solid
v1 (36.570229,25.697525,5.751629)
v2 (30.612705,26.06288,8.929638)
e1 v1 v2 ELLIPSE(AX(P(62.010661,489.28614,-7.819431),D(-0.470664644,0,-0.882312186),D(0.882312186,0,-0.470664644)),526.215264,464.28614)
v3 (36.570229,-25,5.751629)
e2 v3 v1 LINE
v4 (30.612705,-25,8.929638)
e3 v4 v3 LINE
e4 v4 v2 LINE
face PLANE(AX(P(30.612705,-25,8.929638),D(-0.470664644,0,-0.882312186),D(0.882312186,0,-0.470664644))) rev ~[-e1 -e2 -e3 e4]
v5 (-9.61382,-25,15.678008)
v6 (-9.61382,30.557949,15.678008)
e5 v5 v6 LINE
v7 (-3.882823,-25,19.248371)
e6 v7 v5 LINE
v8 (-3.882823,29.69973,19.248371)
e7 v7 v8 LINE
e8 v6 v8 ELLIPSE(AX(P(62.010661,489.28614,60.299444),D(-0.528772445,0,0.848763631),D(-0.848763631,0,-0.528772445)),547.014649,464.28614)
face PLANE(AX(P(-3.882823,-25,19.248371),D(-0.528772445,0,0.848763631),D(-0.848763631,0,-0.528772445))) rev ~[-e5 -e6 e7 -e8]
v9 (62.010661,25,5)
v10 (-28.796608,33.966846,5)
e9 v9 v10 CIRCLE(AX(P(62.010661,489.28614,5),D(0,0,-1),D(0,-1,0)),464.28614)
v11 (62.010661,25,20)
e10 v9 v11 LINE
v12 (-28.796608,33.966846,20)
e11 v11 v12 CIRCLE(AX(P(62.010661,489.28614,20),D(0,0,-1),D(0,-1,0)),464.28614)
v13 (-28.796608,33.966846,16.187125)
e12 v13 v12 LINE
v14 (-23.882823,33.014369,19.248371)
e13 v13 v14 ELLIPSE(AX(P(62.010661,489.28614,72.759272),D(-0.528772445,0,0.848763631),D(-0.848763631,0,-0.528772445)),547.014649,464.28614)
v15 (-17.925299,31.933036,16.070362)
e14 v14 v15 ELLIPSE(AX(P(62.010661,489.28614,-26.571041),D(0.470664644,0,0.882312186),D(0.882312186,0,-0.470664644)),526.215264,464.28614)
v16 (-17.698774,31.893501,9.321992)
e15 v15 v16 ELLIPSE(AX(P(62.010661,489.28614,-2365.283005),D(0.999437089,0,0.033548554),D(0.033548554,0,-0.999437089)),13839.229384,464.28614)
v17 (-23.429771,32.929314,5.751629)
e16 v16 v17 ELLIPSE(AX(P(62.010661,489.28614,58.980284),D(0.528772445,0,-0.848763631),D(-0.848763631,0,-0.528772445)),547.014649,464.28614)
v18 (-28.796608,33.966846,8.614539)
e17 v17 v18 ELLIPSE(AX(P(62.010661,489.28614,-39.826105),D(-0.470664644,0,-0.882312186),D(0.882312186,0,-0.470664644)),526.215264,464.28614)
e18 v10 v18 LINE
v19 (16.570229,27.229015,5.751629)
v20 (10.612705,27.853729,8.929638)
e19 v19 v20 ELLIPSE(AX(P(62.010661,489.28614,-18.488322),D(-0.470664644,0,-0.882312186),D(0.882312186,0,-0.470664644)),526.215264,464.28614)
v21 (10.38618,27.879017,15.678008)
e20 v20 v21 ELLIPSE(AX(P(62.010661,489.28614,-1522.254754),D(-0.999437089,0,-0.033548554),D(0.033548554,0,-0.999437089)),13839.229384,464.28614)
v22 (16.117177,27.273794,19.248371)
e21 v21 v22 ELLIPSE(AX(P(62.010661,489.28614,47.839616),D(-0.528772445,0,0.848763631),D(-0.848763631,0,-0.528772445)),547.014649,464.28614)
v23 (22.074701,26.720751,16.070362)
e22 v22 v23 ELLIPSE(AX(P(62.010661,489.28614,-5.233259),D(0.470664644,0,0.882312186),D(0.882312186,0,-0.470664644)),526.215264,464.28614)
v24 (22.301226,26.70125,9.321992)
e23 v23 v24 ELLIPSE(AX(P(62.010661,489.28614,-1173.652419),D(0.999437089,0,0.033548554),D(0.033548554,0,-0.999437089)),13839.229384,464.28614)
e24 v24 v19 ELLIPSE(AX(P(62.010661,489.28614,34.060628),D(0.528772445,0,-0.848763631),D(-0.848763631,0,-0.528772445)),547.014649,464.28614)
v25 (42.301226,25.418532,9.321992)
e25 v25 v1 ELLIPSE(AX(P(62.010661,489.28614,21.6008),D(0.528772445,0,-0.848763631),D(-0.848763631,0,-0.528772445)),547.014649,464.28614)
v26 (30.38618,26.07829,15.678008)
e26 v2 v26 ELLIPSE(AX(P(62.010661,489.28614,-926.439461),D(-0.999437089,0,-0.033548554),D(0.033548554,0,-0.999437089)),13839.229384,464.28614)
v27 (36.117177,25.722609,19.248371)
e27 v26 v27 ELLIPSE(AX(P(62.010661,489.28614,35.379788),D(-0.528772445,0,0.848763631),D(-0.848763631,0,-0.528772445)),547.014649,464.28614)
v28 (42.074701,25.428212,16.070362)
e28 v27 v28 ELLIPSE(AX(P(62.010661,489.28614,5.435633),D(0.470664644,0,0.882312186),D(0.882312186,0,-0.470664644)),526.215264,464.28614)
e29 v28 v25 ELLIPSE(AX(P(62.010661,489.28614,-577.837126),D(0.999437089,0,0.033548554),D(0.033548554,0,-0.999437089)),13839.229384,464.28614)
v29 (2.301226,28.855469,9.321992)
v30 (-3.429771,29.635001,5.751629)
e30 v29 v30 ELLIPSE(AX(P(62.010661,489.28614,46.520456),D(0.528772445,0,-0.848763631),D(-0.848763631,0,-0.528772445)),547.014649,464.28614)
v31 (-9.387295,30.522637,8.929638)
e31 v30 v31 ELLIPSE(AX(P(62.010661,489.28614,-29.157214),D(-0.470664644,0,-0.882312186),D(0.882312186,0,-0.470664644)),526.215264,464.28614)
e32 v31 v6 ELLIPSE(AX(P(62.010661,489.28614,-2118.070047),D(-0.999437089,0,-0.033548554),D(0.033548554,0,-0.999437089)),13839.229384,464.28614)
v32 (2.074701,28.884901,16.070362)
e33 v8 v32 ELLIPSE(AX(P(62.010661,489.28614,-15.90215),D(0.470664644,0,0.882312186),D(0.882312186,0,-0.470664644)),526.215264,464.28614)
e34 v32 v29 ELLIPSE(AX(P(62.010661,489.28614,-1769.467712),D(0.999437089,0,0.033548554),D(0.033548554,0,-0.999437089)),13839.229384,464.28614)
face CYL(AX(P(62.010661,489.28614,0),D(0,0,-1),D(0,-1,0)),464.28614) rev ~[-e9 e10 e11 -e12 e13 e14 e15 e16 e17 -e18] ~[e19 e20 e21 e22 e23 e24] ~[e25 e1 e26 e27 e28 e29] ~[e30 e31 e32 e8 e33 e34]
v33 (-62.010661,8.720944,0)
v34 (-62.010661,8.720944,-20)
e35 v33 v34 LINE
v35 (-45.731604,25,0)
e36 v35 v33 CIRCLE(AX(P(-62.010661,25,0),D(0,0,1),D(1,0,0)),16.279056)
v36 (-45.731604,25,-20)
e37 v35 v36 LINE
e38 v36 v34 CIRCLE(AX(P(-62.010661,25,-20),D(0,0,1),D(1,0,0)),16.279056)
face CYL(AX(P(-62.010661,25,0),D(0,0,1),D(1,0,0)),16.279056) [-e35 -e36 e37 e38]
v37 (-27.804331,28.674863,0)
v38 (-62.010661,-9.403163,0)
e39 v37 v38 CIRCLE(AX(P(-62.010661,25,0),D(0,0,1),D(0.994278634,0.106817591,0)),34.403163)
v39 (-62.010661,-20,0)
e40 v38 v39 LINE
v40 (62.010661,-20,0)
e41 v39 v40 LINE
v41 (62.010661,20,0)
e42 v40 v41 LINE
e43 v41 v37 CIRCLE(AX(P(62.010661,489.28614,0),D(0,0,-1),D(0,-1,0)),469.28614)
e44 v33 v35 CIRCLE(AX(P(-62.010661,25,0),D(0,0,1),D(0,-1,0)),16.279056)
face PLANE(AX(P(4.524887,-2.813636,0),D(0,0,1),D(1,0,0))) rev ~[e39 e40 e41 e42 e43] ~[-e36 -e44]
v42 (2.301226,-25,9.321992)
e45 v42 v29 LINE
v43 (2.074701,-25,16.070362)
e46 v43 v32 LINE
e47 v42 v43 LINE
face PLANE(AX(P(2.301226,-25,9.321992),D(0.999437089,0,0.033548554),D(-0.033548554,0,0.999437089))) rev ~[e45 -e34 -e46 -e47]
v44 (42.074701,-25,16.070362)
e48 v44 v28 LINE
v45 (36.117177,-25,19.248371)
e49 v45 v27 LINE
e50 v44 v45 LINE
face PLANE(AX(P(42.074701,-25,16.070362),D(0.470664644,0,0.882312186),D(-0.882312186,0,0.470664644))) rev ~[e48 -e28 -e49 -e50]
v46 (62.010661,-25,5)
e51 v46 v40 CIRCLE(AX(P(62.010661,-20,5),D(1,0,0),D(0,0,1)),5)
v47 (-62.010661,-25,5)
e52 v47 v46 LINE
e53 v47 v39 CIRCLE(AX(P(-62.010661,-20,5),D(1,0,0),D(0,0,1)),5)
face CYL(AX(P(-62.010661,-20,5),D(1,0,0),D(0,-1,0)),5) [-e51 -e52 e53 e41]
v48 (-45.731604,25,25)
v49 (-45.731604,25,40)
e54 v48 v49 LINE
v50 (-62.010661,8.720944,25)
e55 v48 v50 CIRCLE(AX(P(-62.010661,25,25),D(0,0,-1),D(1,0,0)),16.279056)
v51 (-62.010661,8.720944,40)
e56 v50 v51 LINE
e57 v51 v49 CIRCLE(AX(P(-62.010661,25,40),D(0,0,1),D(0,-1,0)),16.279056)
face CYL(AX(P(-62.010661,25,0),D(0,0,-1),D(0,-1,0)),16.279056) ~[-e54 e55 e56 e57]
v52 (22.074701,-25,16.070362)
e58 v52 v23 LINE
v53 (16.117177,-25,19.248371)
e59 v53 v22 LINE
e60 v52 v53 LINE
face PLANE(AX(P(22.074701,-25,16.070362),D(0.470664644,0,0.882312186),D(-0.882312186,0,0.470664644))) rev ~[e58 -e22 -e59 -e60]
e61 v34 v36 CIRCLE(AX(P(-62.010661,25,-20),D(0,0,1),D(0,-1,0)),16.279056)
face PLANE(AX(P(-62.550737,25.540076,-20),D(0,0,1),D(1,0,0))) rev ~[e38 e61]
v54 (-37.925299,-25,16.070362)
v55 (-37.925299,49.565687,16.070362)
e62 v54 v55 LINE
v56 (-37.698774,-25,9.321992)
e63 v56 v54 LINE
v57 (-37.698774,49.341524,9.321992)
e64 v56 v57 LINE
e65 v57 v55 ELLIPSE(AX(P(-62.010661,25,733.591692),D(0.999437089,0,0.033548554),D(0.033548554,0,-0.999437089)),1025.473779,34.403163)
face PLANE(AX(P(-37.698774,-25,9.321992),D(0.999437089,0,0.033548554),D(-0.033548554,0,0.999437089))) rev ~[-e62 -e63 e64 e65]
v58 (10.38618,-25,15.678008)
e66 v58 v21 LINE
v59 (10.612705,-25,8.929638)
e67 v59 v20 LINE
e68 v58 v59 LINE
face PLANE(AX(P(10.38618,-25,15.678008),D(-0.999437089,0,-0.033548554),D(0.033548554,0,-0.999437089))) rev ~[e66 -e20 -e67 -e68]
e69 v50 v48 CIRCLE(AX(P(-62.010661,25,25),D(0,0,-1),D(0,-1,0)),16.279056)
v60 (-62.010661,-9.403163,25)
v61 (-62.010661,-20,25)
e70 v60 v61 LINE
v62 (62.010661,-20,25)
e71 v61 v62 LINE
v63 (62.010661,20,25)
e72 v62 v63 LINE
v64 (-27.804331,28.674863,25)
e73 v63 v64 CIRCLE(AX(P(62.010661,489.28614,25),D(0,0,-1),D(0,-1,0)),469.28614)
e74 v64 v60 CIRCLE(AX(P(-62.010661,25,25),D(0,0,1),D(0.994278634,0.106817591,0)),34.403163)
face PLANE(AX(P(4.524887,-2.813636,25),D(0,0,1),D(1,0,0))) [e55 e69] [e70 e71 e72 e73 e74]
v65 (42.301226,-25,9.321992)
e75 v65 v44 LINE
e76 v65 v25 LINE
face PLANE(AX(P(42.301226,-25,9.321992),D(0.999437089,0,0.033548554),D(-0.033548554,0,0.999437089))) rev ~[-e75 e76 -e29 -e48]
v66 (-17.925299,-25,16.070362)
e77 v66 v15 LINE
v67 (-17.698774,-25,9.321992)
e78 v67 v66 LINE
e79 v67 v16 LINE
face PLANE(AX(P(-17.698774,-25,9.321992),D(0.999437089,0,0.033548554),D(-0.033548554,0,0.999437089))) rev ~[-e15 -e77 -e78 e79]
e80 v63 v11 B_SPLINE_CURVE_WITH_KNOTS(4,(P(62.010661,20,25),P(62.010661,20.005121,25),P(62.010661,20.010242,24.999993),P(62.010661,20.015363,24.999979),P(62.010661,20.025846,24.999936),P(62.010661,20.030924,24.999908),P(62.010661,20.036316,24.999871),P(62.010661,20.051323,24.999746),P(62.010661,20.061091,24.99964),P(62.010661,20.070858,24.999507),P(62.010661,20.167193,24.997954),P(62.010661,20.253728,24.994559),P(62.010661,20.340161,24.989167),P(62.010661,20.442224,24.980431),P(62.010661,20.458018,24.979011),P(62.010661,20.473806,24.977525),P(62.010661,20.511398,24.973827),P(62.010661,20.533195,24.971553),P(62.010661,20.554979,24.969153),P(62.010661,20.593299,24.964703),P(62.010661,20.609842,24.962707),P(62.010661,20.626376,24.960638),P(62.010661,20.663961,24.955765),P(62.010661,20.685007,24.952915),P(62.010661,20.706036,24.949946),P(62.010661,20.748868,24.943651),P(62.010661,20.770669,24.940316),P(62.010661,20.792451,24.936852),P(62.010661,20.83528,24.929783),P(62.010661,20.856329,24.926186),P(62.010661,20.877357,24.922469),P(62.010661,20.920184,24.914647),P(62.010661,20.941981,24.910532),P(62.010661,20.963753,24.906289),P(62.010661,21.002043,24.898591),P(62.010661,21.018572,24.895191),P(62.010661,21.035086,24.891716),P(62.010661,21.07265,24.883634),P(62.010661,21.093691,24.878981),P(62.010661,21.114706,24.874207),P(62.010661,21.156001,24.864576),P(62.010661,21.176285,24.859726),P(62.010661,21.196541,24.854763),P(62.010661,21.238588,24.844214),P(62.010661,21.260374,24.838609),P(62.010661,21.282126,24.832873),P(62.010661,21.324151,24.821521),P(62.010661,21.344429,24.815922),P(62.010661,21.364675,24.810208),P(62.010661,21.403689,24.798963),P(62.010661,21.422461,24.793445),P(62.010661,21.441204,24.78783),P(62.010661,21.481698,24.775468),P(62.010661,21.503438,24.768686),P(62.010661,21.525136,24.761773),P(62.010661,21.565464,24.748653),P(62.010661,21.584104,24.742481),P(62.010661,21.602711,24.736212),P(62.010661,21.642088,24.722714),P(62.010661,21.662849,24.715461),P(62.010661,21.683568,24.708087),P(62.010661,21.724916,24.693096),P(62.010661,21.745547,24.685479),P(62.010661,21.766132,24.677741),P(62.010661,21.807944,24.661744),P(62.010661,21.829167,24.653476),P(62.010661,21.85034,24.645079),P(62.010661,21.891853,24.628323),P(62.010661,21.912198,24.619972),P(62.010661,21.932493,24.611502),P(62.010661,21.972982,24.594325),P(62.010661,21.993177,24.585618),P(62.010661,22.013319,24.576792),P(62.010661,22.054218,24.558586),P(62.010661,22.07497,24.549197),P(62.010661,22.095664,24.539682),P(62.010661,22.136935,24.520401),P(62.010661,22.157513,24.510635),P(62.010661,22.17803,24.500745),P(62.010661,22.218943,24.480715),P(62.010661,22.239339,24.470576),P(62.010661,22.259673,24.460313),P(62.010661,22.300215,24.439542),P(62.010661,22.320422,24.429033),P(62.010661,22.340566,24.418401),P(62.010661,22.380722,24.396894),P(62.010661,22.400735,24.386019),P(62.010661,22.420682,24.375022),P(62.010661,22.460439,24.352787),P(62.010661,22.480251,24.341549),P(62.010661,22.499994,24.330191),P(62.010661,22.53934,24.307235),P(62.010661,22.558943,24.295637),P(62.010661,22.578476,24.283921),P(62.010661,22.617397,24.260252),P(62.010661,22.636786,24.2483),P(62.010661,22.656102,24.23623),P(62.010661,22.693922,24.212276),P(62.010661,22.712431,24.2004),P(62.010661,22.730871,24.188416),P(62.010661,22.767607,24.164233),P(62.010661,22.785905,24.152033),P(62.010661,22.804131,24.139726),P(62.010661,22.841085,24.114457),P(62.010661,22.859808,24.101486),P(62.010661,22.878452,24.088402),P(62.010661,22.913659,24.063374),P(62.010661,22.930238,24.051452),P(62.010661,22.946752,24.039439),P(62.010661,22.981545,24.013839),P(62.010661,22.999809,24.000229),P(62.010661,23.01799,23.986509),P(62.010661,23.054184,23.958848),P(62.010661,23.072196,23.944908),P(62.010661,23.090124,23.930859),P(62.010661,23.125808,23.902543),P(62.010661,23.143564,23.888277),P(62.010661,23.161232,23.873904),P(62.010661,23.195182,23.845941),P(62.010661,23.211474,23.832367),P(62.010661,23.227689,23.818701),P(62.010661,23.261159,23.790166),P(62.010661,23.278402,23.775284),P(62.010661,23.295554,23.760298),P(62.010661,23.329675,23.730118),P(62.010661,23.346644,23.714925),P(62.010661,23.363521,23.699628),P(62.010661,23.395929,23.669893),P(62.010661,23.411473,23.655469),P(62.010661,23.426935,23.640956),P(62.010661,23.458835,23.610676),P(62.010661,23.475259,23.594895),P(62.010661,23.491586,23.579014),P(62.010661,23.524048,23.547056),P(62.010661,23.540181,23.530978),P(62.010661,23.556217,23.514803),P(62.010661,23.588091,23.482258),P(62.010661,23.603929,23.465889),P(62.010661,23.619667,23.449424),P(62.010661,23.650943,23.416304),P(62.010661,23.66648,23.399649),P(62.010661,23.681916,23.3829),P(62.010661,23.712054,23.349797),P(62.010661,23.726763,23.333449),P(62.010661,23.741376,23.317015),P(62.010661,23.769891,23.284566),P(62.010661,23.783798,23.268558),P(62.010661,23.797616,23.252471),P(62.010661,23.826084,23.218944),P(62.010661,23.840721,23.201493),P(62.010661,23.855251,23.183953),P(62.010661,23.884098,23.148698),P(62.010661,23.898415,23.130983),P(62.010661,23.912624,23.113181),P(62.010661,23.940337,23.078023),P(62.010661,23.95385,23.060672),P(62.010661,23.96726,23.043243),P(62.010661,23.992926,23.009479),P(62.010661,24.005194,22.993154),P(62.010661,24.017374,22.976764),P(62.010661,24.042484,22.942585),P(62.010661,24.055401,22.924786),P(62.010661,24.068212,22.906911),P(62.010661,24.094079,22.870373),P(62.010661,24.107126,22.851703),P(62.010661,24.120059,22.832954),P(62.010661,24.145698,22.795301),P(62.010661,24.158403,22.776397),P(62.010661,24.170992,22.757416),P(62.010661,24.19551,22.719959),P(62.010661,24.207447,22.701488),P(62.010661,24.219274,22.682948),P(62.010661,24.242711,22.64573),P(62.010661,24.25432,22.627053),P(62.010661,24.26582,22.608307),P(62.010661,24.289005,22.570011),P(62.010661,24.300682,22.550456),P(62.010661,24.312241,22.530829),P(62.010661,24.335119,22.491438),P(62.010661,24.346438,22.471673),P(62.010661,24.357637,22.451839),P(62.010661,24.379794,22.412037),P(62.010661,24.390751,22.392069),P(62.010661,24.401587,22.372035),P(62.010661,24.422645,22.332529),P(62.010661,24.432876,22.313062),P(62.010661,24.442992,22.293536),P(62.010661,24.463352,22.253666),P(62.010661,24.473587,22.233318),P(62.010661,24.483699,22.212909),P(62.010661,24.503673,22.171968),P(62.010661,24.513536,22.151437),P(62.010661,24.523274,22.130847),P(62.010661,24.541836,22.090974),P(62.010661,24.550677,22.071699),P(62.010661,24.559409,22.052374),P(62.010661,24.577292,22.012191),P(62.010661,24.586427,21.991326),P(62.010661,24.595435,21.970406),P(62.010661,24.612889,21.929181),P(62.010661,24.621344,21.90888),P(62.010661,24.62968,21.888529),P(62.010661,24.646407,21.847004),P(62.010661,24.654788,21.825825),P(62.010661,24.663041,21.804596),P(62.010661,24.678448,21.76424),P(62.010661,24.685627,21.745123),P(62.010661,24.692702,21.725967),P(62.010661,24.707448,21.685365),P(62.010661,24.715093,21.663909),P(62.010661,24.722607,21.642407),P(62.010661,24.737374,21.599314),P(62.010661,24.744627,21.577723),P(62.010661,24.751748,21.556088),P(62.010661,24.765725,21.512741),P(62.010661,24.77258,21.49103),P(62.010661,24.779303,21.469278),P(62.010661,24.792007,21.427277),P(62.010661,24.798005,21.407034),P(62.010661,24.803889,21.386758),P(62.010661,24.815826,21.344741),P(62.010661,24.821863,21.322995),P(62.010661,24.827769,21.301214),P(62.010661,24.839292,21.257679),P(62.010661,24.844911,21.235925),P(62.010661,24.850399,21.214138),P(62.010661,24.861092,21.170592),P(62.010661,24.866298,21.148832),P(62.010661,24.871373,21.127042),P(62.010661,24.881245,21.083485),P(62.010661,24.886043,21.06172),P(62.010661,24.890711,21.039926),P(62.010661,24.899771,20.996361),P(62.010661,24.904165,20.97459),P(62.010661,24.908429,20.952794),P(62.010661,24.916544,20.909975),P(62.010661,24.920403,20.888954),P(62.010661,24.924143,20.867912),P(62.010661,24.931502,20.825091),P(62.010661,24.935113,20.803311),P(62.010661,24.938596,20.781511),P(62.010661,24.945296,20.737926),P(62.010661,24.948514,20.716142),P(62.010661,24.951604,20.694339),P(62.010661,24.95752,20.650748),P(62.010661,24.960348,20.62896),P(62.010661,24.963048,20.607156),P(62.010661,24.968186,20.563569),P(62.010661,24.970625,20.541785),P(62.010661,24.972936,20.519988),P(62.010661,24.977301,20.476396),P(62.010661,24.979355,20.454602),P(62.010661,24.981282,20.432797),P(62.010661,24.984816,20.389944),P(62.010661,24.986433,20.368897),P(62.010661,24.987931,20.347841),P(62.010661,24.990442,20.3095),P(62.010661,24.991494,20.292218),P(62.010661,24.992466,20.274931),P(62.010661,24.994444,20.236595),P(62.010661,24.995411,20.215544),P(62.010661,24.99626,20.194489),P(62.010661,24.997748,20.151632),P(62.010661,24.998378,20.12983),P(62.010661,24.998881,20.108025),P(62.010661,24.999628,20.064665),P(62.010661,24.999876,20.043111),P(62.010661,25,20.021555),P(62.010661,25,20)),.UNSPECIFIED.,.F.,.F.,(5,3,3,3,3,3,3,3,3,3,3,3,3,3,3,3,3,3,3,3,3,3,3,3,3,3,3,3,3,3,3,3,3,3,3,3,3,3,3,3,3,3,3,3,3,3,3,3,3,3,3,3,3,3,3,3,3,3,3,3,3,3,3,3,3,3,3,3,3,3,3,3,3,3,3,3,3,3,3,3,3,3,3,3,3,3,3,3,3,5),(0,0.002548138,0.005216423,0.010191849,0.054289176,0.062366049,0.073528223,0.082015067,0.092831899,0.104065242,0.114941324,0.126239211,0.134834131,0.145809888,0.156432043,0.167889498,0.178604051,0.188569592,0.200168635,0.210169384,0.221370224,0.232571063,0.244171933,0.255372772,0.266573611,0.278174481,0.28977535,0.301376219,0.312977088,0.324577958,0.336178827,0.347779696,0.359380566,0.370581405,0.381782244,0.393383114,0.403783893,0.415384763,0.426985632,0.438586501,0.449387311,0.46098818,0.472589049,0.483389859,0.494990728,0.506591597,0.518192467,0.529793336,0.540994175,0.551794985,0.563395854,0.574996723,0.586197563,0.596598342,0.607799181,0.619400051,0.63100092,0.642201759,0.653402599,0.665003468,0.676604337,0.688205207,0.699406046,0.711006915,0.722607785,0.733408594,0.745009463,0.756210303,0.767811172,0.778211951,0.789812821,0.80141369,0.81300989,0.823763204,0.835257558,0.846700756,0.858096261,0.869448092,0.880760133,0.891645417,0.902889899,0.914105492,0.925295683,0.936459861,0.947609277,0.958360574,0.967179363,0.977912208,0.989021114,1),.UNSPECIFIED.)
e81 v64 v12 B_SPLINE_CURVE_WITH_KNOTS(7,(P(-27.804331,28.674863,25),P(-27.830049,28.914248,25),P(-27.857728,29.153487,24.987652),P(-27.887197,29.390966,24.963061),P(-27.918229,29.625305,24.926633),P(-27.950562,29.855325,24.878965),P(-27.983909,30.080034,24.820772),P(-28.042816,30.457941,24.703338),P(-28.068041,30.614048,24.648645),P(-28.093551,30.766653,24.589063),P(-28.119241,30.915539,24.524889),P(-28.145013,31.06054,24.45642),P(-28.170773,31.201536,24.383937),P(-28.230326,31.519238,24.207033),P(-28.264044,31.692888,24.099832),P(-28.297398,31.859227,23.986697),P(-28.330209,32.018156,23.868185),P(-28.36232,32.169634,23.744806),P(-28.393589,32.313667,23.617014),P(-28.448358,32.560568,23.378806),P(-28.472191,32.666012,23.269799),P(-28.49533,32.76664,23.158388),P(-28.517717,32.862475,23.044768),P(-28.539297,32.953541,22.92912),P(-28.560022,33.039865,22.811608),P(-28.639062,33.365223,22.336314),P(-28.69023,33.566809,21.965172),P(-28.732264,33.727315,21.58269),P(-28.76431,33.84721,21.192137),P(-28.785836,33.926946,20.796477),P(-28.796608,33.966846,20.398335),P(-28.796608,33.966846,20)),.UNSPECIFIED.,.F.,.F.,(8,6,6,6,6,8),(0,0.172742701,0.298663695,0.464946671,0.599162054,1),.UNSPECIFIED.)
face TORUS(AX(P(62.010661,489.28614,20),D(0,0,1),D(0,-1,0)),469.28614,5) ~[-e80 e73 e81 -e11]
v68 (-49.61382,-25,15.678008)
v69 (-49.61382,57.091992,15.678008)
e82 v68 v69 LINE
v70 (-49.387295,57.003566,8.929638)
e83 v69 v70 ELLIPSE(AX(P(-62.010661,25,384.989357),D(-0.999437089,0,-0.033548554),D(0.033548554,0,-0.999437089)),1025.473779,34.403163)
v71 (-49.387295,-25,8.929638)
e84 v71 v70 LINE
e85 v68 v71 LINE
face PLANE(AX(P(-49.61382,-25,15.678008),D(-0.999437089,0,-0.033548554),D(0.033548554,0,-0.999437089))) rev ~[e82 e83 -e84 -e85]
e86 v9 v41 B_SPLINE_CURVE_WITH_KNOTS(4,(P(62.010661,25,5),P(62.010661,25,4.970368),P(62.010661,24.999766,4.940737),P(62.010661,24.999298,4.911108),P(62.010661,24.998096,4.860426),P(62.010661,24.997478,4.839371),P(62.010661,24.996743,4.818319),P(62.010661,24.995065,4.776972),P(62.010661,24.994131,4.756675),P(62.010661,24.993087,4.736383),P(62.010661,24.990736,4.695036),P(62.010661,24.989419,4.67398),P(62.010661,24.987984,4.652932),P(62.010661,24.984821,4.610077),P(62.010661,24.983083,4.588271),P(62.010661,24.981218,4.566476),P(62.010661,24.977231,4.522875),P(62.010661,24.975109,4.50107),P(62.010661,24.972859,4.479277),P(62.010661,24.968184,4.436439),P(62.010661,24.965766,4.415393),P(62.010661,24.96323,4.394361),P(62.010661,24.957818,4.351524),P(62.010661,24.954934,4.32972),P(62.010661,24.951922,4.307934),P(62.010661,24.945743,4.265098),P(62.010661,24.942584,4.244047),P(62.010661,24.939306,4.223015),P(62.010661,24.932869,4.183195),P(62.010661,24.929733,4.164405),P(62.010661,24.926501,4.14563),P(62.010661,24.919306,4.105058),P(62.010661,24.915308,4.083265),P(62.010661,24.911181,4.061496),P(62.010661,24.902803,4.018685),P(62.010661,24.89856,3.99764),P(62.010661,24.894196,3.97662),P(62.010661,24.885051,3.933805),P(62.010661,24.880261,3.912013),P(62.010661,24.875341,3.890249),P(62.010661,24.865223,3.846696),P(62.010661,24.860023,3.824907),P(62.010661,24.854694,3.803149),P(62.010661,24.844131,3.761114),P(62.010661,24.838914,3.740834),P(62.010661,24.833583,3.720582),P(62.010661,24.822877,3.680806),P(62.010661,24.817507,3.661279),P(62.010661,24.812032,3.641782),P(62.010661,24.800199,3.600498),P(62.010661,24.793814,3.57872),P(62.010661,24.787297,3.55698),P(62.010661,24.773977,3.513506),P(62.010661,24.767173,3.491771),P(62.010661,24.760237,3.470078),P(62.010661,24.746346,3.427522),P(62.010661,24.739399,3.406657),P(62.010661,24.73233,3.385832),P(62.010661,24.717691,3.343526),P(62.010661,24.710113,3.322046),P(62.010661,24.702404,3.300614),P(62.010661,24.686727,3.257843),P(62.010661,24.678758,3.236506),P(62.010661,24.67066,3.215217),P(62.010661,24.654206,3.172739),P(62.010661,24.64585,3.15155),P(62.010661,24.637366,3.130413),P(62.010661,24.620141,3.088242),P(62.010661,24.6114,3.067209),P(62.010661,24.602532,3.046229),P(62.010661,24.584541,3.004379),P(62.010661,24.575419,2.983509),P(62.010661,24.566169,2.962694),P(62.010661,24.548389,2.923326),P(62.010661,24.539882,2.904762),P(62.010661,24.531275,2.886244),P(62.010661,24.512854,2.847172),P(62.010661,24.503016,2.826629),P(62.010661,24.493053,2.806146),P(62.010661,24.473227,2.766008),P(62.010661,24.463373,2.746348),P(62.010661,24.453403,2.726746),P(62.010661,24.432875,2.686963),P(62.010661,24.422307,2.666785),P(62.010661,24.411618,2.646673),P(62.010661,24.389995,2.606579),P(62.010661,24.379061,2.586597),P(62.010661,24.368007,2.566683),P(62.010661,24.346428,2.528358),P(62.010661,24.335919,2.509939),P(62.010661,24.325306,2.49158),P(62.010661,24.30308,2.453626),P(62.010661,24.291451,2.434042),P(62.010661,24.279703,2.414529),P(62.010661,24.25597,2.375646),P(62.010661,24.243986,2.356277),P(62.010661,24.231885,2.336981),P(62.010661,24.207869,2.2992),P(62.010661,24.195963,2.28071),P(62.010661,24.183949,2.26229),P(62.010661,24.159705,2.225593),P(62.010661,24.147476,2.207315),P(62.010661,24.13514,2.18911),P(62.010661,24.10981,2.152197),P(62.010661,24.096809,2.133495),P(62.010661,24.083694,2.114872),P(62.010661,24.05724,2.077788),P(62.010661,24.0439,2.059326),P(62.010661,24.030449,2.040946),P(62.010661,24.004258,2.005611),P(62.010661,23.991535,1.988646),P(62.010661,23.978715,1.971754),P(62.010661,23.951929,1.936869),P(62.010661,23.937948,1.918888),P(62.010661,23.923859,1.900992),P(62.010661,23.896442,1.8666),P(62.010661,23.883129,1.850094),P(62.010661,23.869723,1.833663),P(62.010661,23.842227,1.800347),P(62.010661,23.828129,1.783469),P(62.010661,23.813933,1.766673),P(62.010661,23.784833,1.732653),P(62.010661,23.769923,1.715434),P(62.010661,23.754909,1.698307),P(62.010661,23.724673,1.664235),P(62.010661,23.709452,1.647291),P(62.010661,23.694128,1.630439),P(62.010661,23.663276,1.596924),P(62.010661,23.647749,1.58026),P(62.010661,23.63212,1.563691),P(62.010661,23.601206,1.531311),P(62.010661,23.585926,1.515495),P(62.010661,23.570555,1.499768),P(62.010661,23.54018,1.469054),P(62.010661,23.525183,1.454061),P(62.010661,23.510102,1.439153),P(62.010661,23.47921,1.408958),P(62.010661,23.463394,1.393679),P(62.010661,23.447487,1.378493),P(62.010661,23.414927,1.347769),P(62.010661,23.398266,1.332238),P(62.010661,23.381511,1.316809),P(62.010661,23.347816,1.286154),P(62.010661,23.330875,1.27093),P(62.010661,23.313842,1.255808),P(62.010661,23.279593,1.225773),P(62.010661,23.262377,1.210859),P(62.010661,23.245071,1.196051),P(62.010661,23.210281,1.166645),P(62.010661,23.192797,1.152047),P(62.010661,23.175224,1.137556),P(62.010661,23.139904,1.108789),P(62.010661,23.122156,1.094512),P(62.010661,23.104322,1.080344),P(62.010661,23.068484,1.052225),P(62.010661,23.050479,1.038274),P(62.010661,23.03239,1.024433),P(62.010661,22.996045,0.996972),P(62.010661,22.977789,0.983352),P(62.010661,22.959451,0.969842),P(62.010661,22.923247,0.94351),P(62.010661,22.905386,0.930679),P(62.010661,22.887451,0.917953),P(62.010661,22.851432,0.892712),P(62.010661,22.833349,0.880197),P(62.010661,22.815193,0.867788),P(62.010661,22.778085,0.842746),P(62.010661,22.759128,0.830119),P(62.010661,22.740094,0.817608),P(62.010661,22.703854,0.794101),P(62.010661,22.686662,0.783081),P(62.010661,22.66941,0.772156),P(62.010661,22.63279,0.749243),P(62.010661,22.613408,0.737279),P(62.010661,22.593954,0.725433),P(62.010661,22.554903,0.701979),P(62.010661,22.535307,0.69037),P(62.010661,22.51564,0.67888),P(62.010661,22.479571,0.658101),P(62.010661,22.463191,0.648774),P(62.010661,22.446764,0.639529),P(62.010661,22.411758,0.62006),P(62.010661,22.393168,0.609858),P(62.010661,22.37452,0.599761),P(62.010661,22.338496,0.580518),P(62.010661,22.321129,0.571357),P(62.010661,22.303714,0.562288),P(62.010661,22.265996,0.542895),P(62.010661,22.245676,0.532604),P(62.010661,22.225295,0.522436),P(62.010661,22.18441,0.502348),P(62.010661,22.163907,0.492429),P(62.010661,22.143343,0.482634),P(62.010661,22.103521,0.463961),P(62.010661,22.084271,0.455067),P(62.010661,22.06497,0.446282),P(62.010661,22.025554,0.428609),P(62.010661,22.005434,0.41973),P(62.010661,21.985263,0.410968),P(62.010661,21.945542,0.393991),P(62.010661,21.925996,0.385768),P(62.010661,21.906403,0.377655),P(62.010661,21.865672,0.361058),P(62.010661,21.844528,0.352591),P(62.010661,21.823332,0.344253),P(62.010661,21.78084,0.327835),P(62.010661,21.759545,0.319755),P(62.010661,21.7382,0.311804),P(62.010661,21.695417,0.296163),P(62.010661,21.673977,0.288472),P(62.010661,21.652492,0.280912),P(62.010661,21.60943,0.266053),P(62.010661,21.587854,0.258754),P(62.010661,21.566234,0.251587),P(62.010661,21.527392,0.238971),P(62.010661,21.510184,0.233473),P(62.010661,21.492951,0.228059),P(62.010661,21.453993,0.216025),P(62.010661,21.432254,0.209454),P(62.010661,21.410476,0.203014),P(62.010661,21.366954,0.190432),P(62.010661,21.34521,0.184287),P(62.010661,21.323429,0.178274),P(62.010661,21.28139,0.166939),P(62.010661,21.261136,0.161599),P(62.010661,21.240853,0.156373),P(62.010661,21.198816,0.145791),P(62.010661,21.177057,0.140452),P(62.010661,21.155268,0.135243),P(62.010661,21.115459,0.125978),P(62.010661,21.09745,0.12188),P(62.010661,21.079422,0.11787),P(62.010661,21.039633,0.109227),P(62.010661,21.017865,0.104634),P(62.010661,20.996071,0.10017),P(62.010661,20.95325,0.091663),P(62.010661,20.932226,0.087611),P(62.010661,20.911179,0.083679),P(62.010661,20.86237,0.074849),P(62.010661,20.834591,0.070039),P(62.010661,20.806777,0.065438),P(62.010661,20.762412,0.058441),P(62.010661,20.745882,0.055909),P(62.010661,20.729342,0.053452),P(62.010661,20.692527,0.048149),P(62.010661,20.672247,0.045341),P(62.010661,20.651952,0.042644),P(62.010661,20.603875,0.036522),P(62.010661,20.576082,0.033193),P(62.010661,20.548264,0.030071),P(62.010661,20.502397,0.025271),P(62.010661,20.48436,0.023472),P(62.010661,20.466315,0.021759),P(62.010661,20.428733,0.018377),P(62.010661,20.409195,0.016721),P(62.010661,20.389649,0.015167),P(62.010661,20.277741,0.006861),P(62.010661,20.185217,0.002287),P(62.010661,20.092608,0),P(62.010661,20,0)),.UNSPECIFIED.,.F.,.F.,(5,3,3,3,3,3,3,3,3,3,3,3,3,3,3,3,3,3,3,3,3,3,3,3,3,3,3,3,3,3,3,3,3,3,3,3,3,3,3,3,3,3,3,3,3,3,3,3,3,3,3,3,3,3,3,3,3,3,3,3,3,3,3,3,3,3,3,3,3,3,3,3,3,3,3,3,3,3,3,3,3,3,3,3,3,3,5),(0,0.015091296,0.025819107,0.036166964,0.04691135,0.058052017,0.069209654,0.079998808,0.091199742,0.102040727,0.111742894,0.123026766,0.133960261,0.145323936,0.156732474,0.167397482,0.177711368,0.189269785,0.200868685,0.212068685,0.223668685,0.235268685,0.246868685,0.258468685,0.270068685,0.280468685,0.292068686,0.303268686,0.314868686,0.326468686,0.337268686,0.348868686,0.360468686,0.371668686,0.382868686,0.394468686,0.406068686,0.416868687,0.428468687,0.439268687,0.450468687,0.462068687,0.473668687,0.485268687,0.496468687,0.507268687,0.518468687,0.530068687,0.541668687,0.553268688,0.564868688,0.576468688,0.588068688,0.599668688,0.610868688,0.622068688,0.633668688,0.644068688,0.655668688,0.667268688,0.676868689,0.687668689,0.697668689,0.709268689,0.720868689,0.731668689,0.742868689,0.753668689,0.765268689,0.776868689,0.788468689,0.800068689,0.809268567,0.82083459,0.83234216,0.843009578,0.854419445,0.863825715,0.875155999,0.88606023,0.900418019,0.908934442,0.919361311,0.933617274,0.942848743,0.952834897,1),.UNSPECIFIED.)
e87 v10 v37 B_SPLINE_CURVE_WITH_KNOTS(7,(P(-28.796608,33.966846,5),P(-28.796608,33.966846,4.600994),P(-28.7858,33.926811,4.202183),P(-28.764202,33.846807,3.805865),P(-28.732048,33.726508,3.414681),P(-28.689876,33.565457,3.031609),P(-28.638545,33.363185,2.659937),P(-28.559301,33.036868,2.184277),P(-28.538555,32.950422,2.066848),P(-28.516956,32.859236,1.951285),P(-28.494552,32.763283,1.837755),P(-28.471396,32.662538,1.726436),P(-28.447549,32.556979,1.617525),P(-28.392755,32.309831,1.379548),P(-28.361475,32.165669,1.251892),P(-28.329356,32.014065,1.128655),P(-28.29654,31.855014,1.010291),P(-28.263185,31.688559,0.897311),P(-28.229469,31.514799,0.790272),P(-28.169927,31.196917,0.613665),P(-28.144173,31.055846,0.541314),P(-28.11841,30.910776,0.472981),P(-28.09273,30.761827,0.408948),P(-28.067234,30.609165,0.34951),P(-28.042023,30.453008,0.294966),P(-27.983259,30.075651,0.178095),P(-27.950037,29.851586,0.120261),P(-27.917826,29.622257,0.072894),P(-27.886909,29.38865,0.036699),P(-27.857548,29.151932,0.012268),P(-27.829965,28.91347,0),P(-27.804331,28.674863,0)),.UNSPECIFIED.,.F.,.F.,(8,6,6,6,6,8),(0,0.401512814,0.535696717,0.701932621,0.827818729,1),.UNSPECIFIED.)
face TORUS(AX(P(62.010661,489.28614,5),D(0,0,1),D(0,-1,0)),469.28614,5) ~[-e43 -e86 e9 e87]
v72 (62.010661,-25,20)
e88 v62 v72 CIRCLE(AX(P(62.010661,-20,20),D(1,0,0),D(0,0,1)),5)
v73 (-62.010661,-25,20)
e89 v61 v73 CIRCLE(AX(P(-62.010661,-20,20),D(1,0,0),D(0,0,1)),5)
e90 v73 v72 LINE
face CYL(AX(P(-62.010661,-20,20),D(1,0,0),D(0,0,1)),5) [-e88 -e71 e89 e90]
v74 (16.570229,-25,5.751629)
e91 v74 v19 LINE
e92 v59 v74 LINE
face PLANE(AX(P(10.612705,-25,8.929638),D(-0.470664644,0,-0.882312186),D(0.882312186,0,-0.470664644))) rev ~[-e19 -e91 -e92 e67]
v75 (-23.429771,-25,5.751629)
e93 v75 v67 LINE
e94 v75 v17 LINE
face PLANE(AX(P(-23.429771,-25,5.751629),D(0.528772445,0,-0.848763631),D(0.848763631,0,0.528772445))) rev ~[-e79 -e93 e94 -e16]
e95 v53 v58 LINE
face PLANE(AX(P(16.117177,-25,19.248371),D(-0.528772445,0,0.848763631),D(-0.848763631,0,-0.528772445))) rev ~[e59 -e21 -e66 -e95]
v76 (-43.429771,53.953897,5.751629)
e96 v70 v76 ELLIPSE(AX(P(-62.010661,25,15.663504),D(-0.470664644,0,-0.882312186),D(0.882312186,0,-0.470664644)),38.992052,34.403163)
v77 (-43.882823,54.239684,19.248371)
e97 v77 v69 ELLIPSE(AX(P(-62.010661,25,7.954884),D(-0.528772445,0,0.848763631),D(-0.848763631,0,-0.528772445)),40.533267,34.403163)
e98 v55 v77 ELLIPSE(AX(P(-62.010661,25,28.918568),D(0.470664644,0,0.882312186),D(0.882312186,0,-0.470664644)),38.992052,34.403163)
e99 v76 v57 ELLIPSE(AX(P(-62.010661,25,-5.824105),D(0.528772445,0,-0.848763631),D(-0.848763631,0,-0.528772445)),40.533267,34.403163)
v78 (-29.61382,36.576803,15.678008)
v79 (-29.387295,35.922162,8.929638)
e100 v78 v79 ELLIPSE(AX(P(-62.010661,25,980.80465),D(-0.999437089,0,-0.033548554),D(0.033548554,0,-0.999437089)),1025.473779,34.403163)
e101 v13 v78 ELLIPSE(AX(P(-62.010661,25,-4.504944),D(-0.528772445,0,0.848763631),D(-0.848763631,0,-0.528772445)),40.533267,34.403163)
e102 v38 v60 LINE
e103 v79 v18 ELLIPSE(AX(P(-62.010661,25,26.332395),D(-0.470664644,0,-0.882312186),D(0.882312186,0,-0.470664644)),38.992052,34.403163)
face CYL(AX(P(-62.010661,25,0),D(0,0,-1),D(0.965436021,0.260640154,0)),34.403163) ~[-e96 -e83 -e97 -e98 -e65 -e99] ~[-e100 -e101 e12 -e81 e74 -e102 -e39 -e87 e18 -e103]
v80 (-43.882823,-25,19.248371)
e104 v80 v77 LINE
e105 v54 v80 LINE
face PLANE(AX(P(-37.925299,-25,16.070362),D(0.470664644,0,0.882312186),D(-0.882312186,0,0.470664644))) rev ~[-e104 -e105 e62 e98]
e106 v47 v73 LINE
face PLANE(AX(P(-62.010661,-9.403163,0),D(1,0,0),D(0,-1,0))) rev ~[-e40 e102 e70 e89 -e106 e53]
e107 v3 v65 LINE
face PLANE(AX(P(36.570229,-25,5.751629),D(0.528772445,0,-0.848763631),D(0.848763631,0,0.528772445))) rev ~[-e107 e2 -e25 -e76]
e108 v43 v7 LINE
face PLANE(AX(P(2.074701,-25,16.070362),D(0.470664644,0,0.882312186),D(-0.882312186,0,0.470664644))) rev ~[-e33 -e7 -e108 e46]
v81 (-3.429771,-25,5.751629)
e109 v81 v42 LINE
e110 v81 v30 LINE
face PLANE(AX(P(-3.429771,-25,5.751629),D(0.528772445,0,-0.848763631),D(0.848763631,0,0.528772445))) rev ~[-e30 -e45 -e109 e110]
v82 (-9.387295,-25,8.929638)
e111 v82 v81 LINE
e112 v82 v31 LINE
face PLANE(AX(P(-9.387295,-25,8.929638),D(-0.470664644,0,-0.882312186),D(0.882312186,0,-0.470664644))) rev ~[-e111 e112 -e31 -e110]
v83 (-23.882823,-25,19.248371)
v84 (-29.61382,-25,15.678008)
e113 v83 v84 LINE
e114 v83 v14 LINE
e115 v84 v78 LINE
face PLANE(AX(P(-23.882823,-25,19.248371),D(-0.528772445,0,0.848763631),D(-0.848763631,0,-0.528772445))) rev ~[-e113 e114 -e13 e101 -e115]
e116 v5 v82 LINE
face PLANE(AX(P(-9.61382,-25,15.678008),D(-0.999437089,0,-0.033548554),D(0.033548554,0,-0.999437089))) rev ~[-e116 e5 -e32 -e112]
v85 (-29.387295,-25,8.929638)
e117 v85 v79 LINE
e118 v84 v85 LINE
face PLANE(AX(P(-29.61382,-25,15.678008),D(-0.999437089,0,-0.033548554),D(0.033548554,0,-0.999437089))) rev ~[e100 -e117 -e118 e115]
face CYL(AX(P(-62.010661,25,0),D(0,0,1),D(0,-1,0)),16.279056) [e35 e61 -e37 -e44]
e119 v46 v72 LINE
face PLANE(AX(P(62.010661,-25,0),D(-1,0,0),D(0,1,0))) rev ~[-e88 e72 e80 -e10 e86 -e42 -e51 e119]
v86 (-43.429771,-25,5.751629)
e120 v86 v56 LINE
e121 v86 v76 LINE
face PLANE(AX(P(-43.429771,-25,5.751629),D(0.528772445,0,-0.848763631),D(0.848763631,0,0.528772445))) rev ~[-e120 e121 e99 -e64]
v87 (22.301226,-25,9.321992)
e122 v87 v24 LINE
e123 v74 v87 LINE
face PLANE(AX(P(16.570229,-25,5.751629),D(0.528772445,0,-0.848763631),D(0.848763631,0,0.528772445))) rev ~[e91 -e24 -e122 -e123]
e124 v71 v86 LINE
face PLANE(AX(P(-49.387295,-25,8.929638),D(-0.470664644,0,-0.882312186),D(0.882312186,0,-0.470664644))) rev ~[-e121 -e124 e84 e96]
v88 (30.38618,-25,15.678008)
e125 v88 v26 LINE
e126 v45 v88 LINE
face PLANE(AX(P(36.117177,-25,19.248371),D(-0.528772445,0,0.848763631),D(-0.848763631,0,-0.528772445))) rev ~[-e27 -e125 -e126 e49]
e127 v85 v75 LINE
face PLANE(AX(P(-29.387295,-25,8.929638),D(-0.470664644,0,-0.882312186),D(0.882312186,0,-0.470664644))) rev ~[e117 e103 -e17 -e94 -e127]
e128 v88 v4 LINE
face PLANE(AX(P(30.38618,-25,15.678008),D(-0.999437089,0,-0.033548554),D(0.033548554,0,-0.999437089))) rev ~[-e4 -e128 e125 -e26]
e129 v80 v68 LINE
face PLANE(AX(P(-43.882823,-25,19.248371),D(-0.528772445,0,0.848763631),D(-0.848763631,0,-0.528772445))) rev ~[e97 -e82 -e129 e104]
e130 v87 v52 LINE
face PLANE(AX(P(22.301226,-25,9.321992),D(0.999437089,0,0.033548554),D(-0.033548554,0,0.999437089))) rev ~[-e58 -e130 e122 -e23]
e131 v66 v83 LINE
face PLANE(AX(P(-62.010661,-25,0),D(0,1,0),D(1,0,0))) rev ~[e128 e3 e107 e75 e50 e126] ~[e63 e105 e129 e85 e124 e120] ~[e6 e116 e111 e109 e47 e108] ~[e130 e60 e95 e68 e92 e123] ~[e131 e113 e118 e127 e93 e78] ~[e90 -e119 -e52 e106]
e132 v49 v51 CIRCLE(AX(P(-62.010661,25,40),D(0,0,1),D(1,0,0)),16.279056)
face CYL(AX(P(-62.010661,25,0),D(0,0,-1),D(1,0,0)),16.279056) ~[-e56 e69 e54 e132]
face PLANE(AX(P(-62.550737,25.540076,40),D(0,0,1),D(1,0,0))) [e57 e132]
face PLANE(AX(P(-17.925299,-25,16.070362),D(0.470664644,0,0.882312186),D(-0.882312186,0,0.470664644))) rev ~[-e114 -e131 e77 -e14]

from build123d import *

# Parameters (mm, degrees)
F1_DEPTH      = 25
F2_DEPTH      = 40
F2_DEPTH_BACK = 20
F4_DEPTH      = 84.4041628775
F5_R          = 5


with BuildPart() as f1:
    # F0 (on Top) → F1 (new body)
    with BuildSketch(Plane.XY):
        with BuildLine():
            Line((-62.0106605823, -25), (62.0106605823, -25))
            Line((62.0106605823, -25), (62.0106605823, 25))
            Line((62.0106605823, 25), (-27.6074977048, 25))
            ThreePointArc((-27.6074977048, 25), (-37.6839508173, 0.6732902351), (-62.0106605823, -9.4031628775))
            Line((-62.0106605823, -9.4031628775), (-62.0106605823, -25))
        make_face()
        with BuildLine():
            Line((-27.6074977048, 25), (62.0106605823, 25))
            ThreePointArc((62.0106605823, 25), (16.3862035085, 27.2471495314), (-28.7966079142, 33.9668456737))
            ThreePointArc((-28.7966079142, 33.9668456737), (-27.9060708638, 29.5226735573), (-27.6074977048, 25))
        make_face()
        with BuildLine():
            ThreePointArc((-28.7966079142, 33.9668456737), (-89.3242603833, 45.9175735181), (-62.0106605823, -9.4031628775))
            Line((-62.0106605823, -9.4031628775), (-62.0106605823, 8.7209436981))
            ThreePointArc((-62.0106605823, 8.7209436981), (-78.1512656311, 27.1186181204), (-57.8094614837, 40.7276063092))
            ThreePointArc((-57.8094614837, 40.7276063092), (-43.3572727982, 37.1144708153), (-28.7966079142, 33.9668456737))
        make_face()
        with BuildLine():
            Line((-62.0106605823, 8.7209436981), (-62.0106605823, -9.4031628775))
            ThreePointArc((-62.0106605823, -9.4031628775), (-37.6839508173, 0.6732902351), (-27.6074977048, 25))
            Line((-27.6074977048, 25), (-45.7316042803, 25))
            ThreePointArc((-45.7316042803, 25), (-50.4996294799, 13.4889688976), (-62.0106605823, 8.7209436981))
        make_face()
        with BuildLine():
            Line((-45.7316042803, 25), (-27.6074977048, 25))
            ThreePointArc((-27.6074977048, 25), (-27.9060708638, 29.5226735573), (-28.7966079142, 33.9668456737))
            ThreePointArc((-28.7966079142, 33.9668456737), (-43.3572727982, 37.1144708153), (-57.8094614837, 40.7276063092))
            ThreePointArc((-57.8094614837, 40.7276063092), (-49.0994400601, 34.9150420428), (-45.7316042803, 25))
        make_face()
    extrude(amount=F1_DEPTH)

    # F0 (on Top) → F2 (join, two sides)
    with BuildSketch(Plane.XY) as f2_sk:
        with BuildLine():
            ThreePointArc((-57.8094614837, 40.7276063092), (-78.1512656311, 27.1186181204), (-62.0106605823, 8.7209436981))
            Line((-62.0106605823, 8.7209436981), (-62.0106605823, 25))
            Line((-62.0106605823, 25), (-45.7316042803, 25))
            ThreePointArc((-45.7316042803, 25), (-49.0994400601, 34.9150420428), (-57.8094614837, 40.7276063092))
        make_face()
        with BuildLine():
            Line((-62.0106605823, 25), (-62.0106605823, 8.7209436981))
            ThreePointArc((-62.0106605823, 8.7209436981), (-50.4996294799, 13.4889688976), (-45.7316042803, 25))
            Line((-45.7316042803, 25), (-62.0106605823, 25))
        make_face()
    extrude(amount=F2_DEPTH)
    extrude(f2_sk.sketch, amount=-F2_DEPTH_BACK)

    # F3 (on face) → F4 (cut, through all)
    with BuildSketch(Plane.XZ.offset(25)):
        Polygon((-43.4297714291, 5.7516291939), (-37.6987736764, 9.3219915203), (-37.9252992754, 16.0703623264), (-43.882822627, 19.2483708061), (-49.6138203798, 15.6780084797), (-49.3872947808, 8.9296376736), align=None)
        Polygon((-23.882822627, 19.2483708061), (-29.6138203798, 15.6780084797), (-29.3872947808, 8.9296376736), (-23.4297714291, 5.7516291939), (-17.6987736764, 9.3219915203), (-17.9252992754, 16.0703623264), align=None)
        Polygon((-3.882822627, 19.2483708061), (-9.6138203798, 15.6780084797), (-9.3872947808, 8.9296376736), (-3.4297714291, 5.7516291939), (2.3012263236, 9.3219915203), (2.0747007246, 16.0703623264), align=None)
        Polygon((16.117177373, 19.2483708061), (10.3861796202, 15.6780084797), (10.6127052192, 8.9296376736), (16.5702285709, 5.7516291939), (22.3012263236, 9.3219915203), (22.0747007246, 16.0703623264), align=None)
        Polygon((36.117177373, 19.2483708061), (30.3861796202, 15.6780084797), (30.6127052192, 8.9296376736), (36.5702285709, 5.7516291939), (42.3012263236, 9.3219915203), (42.0747007246, 16.0703623264), align=None)
    extrude(amount=-F4_DEPTH, mode=Mode.SUBTRACT)

    # F5
    f5_edges = [f1.edges().sort_by_distance(p)[0] for p in [
        (0, -25, 25),
        (0, -25, 0),
        (16.386204, 27.24715, 0),
        (16.386204, 27.24715, 25),
    ]]
    fillet(f5_edges, radius=F5_R)


solid = f1.part
